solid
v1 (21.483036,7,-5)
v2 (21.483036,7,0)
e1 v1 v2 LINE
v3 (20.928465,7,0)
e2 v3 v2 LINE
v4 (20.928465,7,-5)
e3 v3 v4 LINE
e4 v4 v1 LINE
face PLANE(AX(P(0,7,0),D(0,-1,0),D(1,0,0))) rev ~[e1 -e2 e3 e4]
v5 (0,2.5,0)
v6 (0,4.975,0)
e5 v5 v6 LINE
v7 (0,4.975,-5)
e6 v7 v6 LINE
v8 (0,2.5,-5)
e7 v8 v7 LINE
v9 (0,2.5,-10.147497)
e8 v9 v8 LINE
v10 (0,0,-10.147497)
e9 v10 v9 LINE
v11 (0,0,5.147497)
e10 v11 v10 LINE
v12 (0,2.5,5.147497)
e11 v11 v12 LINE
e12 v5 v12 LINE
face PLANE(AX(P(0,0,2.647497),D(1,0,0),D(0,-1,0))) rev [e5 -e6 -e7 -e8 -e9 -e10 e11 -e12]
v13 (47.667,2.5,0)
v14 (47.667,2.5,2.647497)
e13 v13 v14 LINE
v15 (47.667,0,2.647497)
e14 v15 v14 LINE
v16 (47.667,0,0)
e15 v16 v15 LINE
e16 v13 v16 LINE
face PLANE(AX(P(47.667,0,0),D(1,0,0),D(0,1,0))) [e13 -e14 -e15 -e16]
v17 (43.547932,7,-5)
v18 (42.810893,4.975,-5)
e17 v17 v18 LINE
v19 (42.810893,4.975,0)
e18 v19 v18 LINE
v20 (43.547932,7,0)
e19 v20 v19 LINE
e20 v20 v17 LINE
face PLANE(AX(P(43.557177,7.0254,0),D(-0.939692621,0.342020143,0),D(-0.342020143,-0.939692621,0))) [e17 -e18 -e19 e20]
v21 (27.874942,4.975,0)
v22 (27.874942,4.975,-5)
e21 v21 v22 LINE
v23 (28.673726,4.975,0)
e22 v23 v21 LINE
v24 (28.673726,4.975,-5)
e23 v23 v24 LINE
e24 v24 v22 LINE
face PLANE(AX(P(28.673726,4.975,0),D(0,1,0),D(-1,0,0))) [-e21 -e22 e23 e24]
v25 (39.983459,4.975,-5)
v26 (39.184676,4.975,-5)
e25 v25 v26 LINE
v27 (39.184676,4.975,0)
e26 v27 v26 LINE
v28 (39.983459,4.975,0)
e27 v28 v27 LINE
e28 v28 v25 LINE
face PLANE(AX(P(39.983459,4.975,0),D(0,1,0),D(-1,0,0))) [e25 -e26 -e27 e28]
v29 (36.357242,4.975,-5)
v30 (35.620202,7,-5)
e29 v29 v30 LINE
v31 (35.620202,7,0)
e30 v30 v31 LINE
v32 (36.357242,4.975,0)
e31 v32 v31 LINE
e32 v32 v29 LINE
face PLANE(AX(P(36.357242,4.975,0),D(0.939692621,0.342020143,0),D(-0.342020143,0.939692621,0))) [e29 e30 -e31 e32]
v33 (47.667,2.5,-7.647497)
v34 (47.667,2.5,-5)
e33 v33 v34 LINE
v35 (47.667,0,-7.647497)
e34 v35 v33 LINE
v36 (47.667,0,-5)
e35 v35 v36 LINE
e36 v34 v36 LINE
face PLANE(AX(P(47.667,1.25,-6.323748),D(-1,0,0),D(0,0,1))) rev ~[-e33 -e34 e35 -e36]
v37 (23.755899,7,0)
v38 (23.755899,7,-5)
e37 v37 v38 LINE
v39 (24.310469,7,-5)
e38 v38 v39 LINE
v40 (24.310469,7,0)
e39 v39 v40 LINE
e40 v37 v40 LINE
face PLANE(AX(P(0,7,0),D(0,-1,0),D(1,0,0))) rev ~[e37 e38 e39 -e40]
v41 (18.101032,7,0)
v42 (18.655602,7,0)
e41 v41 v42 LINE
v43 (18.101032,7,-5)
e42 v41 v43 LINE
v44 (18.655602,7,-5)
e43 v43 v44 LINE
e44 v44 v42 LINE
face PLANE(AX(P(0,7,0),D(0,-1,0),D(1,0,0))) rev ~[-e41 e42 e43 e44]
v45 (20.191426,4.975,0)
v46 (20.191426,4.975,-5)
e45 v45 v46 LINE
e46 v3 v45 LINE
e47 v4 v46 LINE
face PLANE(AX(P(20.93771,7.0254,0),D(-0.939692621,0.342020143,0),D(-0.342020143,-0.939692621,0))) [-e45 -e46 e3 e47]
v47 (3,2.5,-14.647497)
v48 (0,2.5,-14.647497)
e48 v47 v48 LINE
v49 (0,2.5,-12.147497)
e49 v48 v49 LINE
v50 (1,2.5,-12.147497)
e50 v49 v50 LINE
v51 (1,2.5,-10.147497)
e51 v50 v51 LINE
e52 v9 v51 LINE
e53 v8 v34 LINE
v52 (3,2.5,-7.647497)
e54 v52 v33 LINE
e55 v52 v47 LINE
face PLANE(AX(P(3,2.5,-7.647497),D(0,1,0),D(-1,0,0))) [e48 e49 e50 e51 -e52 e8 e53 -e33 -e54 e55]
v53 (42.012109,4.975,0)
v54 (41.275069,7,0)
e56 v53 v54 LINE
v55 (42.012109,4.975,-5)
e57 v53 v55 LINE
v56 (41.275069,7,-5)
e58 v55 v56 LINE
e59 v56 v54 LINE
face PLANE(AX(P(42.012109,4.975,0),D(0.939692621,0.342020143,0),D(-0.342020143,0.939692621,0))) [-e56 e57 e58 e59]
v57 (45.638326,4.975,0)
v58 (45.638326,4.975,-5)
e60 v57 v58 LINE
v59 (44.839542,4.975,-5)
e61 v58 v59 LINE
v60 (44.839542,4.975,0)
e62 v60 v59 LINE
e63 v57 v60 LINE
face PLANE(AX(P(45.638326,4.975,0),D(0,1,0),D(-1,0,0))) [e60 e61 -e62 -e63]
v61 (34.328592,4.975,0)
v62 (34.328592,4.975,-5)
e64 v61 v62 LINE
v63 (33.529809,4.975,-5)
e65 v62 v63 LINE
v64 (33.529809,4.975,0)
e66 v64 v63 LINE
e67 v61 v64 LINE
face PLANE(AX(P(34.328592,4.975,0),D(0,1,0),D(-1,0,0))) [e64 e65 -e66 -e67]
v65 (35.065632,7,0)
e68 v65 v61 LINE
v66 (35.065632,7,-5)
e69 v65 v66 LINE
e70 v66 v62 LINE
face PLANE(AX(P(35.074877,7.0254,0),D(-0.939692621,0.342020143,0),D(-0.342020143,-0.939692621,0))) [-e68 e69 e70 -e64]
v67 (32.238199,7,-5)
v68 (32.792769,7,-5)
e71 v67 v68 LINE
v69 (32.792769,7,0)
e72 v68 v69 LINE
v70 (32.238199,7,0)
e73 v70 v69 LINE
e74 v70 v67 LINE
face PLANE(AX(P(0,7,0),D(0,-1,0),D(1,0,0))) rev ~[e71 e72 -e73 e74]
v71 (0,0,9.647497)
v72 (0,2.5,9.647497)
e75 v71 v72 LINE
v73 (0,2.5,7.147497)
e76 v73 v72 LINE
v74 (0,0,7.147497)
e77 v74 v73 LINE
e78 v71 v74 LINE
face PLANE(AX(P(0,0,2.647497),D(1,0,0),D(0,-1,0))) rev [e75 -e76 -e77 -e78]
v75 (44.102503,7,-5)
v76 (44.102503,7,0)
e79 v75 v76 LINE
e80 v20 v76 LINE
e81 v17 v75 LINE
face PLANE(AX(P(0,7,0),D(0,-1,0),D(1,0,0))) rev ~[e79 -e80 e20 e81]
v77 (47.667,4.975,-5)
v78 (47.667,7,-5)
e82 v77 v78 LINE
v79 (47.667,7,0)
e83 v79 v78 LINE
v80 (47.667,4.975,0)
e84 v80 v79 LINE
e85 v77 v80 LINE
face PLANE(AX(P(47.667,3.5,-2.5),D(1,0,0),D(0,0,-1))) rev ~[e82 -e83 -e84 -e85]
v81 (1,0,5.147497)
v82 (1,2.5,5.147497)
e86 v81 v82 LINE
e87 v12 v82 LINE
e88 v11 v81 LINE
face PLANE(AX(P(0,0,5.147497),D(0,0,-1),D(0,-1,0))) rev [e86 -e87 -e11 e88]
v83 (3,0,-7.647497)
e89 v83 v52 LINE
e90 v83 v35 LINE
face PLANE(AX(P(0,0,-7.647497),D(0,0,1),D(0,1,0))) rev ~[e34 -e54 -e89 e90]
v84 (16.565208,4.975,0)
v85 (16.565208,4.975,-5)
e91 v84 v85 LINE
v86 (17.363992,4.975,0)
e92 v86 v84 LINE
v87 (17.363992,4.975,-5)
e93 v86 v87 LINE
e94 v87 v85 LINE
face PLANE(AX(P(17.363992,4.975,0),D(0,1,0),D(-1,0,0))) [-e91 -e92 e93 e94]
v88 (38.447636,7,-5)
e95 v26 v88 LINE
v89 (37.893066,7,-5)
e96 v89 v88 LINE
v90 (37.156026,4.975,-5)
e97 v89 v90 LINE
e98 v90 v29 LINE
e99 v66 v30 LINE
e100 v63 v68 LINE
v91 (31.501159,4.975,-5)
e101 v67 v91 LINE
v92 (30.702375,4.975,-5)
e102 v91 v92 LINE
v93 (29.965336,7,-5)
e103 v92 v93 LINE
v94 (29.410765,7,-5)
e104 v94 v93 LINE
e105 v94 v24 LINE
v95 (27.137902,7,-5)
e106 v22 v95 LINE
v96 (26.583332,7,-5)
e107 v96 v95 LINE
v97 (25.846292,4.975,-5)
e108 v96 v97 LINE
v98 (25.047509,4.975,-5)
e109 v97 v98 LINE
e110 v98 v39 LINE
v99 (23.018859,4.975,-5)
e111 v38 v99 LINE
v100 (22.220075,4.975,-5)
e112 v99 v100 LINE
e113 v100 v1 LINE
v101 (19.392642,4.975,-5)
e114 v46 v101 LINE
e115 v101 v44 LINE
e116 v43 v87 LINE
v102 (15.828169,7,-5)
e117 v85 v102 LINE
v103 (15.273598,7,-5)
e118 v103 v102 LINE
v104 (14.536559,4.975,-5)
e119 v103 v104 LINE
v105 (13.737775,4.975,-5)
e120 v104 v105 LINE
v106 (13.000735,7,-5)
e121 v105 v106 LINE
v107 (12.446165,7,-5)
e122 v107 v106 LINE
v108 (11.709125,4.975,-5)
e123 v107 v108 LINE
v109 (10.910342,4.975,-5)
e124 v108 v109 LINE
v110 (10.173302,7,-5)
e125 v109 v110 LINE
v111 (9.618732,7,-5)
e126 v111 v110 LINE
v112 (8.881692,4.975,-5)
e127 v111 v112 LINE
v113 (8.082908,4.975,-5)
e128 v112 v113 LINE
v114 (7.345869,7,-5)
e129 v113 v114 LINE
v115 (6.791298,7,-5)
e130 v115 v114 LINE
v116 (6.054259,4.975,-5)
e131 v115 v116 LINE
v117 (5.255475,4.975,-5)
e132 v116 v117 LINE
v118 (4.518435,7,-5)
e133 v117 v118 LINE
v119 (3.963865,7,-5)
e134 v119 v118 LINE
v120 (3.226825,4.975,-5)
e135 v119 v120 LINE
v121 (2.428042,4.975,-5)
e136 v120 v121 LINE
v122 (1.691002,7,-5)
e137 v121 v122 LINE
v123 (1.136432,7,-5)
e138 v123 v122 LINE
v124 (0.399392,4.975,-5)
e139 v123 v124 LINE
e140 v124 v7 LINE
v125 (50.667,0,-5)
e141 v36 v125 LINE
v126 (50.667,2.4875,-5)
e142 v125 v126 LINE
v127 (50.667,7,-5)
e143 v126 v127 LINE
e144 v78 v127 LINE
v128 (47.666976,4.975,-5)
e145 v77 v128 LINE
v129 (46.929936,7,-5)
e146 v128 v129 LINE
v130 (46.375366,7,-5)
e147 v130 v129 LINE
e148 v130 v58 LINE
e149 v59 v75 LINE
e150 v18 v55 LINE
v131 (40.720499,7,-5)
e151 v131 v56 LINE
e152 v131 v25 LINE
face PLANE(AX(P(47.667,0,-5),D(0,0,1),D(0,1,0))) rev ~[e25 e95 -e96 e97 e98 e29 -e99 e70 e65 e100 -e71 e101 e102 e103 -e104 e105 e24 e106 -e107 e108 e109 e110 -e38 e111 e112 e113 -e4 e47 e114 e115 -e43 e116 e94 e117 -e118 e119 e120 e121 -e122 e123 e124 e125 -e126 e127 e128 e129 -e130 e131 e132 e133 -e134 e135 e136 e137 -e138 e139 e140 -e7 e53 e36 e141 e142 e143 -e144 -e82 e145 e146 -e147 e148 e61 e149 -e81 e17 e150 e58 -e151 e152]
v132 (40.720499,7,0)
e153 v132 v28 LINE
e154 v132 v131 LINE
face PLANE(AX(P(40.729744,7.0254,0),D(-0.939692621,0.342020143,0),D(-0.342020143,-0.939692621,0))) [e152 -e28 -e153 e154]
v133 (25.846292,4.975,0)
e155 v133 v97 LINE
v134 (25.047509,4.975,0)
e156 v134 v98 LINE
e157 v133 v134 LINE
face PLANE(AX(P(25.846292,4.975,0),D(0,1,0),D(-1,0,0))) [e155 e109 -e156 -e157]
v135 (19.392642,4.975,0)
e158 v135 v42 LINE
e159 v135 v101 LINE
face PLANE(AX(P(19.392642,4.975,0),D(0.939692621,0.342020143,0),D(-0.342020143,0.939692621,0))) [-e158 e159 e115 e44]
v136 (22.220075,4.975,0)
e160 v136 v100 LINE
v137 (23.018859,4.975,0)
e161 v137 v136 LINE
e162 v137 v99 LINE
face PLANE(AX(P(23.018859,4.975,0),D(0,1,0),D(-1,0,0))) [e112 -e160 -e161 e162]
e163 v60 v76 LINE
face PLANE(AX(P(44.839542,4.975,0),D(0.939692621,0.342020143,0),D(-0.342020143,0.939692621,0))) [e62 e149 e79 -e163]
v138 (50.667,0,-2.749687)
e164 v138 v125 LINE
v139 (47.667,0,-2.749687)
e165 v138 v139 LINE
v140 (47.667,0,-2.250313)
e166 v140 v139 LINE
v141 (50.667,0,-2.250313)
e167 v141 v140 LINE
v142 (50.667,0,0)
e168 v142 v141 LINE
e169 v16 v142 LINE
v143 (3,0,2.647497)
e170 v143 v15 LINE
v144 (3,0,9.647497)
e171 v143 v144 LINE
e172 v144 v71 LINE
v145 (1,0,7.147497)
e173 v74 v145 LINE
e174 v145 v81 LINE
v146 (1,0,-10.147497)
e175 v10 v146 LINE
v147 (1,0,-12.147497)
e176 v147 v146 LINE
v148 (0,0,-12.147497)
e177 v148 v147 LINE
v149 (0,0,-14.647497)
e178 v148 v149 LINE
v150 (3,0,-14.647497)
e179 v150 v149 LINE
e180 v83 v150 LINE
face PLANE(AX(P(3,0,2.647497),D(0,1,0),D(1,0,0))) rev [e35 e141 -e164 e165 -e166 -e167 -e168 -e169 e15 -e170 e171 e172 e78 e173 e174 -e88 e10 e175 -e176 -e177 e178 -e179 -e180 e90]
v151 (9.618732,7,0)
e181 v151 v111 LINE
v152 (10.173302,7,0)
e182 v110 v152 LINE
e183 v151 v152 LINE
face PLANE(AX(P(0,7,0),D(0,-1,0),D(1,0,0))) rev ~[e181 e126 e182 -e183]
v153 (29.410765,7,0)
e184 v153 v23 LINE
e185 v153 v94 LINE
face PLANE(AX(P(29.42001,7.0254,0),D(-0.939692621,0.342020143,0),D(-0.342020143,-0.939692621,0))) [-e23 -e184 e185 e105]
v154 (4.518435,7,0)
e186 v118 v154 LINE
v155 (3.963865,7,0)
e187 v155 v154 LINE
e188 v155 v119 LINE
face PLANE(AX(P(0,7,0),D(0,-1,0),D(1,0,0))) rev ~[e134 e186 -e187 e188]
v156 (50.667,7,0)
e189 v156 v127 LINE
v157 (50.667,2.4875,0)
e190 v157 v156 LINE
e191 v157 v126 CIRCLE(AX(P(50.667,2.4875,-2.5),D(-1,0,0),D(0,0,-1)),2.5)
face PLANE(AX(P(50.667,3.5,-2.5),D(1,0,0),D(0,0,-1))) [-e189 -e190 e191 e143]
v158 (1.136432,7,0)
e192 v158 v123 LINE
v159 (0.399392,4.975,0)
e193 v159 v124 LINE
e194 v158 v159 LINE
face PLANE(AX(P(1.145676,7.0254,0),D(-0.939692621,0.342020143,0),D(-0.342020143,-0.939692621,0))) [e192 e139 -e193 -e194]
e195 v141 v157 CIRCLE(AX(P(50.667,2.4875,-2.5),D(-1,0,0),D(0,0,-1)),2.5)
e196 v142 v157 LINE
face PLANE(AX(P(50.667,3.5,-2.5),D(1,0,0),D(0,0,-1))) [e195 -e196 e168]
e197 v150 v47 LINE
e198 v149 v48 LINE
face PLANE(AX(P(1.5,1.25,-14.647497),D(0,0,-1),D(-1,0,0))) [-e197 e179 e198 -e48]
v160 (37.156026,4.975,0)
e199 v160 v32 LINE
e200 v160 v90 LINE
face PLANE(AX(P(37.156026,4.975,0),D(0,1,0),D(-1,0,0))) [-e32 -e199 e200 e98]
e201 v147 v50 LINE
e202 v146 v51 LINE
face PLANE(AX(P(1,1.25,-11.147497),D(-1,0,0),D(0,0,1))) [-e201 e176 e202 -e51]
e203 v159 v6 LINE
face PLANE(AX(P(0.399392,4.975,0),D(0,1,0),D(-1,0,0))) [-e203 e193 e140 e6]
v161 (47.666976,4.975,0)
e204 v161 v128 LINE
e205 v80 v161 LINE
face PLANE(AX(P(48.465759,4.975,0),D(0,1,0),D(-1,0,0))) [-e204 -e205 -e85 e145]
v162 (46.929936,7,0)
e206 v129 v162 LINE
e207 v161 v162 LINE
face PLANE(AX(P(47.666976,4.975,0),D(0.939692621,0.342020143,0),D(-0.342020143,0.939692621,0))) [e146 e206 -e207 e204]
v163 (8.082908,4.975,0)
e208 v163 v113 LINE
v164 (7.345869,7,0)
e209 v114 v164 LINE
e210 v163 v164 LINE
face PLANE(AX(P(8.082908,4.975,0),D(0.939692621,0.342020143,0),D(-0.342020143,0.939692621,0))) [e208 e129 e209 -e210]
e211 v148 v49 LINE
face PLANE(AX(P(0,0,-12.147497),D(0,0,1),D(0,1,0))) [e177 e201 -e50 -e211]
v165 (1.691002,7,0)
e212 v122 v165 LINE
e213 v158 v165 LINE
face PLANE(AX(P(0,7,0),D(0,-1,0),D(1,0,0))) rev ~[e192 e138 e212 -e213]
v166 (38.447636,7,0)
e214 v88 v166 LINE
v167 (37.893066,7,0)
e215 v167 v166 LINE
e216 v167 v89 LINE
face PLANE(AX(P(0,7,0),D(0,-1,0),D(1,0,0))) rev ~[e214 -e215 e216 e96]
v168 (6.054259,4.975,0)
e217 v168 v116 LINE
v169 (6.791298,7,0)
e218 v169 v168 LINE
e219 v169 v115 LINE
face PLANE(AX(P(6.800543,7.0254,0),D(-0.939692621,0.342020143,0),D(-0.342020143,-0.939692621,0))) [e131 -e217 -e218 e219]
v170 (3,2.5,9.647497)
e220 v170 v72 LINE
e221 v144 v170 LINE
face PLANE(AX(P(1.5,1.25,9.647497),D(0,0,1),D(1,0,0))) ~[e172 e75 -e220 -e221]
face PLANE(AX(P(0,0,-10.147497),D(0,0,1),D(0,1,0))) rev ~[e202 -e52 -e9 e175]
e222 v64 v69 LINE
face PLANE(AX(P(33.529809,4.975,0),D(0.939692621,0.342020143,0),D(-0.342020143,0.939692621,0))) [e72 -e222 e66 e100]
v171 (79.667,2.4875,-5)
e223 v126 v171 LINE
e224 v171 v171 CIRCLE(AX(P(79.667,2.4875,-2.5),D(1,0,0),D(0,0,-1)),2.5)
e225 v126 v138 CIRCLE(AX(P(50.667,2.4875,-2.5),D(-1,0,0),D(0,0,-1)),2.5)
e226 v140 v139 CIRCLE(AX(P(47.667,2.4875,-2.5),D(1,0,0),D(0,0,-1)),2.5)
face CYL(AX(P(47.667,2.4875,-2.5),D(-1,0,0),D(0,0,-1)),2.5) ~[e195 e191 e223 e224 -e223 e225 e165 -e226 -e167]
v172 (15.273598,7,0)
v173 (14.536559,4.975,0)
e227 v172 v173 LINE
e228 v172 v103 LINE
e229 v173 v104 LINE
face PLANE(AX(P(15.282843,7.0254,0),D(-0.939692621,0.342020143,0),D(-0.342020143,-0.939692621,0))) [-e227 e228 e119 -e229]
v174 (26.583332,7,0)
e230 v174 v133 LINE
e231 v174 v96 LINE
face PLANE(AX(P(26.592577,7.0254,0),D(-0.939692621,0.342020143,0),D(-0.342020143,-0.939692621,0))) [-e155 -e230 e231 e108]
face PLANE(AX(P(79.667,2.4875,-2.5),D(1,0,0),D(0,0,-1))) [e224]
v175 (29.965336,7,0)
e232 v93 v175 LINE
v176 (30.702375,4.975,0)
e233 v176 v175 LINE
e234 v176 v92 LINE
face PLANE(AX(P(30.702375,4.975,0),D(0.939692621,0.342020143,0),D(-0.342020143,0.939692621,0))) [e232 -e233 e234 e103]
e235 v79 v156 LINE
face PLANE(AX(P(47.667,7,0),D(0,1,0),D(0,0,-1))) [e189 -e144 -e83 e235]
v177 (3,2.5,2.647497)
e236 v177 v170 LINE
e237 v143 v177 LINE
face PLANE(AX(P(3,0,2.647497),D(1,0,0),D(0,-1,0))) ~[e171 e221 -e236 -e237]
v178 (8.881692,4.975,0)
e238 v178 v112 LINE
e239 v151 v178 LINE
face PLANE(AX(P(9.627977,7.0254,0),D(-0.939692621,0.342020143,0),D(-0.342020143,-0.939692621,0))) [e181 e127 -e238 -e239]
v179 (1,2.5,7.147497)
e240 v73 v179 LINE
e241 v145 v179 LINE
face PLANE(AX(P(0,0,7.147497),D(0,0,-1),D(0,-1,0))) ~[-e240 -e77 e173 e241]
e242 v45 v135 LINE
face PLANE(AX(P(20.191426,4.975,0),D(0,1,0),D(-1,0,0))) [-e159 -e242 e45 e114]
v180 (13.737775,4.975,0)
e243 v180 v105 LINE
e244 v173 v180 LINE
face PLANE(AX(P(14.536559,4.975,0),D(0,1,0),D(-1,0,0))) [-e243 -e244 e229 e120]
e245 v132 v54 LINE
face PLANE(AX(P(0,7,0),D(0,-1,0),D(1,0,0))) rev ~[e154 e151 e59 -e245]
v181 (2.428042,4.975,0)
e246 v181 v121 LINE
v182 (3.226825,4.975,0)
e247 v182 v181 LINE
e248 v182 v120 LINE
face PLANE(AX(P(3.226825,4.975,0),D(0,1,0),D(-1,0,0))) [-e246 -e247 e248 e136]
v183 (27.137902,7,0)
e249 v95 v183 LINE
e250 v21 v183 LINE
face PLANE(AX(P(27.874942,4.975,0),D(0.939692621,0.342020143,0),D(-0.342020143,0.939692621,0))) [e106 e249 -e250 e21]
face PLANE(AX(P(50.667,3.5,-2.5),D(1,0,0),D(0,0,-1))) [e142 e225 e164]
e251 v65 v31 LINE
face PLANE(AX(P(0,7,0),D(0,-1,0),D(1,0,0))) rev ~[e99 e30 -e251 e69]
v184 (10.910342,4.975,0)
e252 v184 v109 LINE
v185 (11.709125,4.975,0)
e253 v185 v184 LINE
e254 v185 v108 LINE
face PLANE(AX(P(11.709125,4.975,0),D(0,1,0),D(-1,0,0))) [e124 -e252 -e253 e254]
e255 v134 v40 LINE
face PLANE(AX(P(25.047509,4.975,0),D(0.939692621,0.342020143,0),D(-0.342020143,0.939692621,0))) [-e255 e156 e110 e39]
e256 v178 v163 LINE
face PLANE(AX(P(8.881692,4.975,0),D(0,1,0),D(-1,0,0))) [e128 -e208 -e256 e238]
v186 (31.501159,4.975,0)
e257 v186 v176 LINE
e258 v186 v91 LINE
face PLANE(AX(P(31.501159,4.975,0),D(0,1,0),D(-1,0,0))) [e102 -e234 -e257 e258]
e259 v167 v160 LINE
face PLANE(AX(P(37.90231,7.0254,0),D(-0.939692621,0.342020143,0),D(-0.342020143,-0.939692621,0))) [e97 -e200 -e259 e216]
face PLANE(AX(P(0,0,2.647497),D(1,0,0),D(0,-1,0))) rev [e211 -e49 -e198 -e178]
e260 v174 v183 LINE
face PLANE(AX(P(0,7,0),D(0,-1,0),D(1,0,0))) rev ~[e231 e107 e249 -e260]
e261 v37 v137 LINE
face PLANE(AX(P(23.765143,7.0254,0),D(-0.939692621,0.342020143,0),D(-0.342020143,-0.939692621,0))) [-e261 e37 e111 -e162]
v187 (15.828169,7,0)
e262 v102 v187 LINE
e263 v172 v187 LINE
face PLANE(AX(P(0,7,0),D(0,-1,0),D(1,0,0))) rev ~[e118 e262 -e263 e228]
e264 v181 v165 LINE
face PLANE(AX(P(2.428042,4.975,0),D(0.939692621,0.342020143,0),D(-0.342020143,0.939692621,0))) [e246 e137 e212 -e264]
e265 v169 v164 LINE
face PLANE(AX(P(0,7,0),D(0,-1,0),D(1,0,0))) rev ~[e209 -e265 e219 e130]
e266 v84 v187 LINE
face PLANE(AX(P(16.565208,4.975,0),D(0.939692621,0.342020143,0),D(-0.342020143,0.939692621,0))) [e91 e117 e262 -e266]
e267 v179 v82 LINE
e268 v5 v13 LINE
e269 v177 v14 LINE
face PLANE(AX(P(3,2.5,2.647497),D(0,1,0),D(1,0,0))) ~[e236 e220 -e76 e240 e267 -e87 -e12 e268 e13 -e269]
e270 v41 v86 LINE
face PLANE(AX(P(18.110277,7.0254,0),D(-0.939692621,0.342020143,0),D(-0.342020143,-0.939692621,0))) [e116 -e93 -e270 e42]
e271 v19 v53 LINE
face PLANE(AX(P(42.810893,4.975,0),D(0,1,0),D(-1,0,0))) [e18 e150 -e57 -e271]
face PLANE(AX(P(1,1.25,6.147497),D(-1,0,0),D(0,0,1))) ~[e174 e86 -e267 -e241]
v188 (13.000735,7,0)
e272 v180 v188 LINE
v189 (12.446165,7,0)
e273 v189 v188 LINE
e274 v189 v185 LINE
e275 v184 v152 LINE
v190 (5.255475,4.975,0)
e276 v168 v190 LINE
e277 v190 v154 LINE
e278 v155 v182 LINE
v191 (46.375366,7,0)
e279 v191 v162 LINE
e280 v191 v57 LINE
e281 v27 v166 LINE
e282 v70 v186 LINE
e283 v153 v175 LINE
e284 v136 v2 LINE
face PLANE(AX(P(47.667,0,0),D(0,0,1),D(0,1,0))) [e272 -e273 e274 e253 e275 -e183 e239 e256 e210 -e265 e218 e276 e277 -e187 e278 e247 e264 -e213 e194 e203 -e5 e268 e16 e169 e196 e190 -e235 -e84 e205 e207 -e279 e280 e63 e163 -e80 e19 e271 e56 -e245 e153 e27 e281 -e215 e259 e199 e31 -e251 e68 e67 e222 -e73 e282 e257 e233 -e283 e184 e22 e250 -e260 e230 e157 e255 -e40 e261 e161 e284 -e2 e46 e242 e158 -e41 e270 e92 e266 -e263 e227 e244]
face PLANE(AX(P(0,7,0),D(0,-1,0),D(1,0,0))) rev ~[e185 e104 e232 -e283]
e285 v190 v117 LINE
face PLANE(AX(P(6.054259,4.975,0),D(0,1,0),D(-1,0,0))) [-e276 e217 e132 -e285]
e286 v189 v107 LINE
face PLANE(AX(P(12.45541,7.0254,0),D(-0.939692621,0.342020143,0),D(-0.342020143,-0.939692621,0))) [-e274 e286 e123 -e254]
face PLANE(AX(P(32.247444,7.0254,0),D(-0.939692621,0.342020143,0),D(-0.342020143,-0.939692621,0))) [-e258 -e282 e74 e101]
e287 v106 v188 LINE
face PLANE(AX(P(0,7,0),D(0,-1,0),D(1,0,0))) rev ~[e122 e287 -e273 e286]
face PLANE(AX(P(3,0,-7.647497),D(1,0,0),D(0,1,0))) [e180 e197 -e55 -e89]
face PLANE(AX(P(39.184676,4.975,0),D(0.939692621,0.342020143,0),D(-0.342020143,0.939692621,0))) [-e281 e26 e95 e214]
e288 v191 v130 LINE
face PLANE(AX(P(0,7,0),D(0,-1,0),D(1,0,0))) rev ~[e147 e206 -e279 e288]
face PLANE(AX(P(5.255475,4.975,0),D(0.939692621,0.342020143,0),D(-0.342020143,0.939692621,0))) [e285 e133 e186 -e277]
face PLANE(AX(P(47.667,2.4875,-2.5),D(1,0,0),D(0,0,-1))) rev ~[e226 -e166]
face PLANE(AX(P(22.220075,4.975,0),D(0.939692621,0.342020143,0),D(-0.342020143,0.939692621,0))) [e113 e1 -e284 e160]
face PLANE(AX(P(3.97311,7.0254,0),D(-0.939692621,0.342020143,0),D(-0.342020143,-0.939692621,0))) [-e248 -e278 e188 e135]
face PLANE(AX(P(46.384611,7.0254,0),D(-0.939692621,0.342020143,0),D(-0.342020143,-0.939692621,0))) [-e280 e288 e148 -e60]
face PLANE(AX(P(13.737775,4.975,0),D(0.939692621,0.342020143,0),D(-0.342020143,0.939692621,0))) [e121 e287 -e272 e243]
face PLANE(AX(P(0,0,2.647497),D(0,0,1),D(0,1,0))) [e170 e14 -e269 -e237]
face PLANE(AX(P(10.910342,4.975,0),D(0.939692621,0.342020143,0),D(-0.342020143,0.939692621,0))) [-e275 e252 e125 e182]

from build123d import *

# Parameters (mm, degrees)
BLANKSKE_W          = 47.667
BLANKSKE_H          = 7
BLANK_DEPTH         = 5
TOOTHCUTSIM_DEPTH   = 49.436999174
TEETHCUTS_COUNT     = 18
TEETHCUTS_PITCH     = 2.827433385
SKETCH1_R           = 2.5
BOSS_EXTRUDE1_DEPTH = 32
SKETCH2_W           = 2.647496805
SKETCH2_H           = 2.5
BOSS_EXTRUDE2_DEPTH = 47.667
SKETCH3_W           = 5
SKETCH3_H           = 7
BOSS_EXTRUDE3_DEPTH = 3
SKETCH4_W           = 3
SKETCH4_H           = 2.5
BOSS_EXTRUDE4_DEPTH = 7
SKETCH5_W           = 2
SKETCH5_H           = 2.5
CUT_EXTRUDE1_DEPTH  = 1


with BuildPart() as part:
    # BlankSke → Blank (new body)
    with BuildSketch(Plane.XY):
        with Locations((23.8335, 3.5)):
            Rectangle(BLANKSKE_W, BLANKSKE_H)
    extrude(amount=-BLANK_DEPTH)

    # TooCutSkeSim → ToothCutSim (cut, through all)
    with BuildSketch(Plane.XY):
        Polygon((0.399391833, 4.975), (-0.399391833, 4.975), (-1.145676401, 7.0254), (1.145676401, 7.0254), align=None)
    toothcutsim = extrude(amount=-TOOTHCUTSIM_DEPTH, mode=Mode.SUBTRACT)

    # TeethCuts: ToothCutSim ×18
    with Locations(*[(i * TEETHCUTS_PITCH, 0, 0) for i in range(1, TEETHCUTS_COUNT)]):
        add(toothcutsim, mode=Mode.SUBTRACT)

    # Sketch1 → Boss-Extrude1 (add)
    with BuildSketch(Plane(origin=(47.667, 0, 0), x_dir=(0, 0, -1), z_dir=(1, 0, 0))):
        with Locations((2.5, 2.4875)):
            Circle(SKETCH1_R)
    extrude(amount=BOSS_EXTRUDE1_DEPTH)

    # Sketch2 → Boss-Extrude2 (add)
    with BuildSketch(Plane.ZY):
        with Locations((-6.323748402, 1.25)):
            Rectangle(SKETCH2_W, SKETCH2_H)
        with Locations((1.323748403, 1.25)):
            Rectangle(SKETCH2_W, SKETCH2_H)
    extrude(amount=-BOSS_EXTRUDE2_DEPTH)

    # Sketch3 → Boss-Extrude3 (add)
    with BuildSketch(Plane(origin=(47.667, 0, 0), x_dir=(0, 0, -1), z_dir=(1, 0, 0))):
        with Locations((2.5, 3.5)):
            Rectangle(SKETCH3_W, SKETCH3_H)
    extrude(amount=BOSS_EXTRUDE3_DEPTH)

    # Sketch4 → Boss-Extrude4 (add)
    with BuildSketch(Plane(origin=(0, 0, -7.647496805), x_dir=(-1, 0, 0), z_dir=(0, 0, -1))):
        with Locations((-1.5, 1.25)):
            Rectangle(SKETCH4_W, SKETCH4_H)
    boss_extrude4 = extrude(amount=BOSS_EXTRUDE4_DEPTH)

    # Mirror1: Boss-Extrude4 across plane
    add(boss_extrude4.mirror(Plane(origin=(0, 0, -2.5), x_dir=(1, 0, 0), z_dir=(0, 0, -1))))

    # Sketch5 → Cut-Extrude1 (cut)
    with BuildSketch(Plane.ZY):
        with Locations((-11.147496805, 1.25)):
            Rectangle(SKETCH5_W, SKETCH5_H)
    cut_extrude1 = extrude(amount=-CUT_EXTRUDE1_DEPTH, mode=Mode.SUBTRACT)

    # Mirror2: Cut-Extrude1 across plane
    add(cut_extrude1.mirror(Plane(origin=(0, 0, -2.5), x_dir=(1, 0, 0), z_dir=(0, 0, -1))), mode=Mode.SUBTRACT)


solid = part.part
